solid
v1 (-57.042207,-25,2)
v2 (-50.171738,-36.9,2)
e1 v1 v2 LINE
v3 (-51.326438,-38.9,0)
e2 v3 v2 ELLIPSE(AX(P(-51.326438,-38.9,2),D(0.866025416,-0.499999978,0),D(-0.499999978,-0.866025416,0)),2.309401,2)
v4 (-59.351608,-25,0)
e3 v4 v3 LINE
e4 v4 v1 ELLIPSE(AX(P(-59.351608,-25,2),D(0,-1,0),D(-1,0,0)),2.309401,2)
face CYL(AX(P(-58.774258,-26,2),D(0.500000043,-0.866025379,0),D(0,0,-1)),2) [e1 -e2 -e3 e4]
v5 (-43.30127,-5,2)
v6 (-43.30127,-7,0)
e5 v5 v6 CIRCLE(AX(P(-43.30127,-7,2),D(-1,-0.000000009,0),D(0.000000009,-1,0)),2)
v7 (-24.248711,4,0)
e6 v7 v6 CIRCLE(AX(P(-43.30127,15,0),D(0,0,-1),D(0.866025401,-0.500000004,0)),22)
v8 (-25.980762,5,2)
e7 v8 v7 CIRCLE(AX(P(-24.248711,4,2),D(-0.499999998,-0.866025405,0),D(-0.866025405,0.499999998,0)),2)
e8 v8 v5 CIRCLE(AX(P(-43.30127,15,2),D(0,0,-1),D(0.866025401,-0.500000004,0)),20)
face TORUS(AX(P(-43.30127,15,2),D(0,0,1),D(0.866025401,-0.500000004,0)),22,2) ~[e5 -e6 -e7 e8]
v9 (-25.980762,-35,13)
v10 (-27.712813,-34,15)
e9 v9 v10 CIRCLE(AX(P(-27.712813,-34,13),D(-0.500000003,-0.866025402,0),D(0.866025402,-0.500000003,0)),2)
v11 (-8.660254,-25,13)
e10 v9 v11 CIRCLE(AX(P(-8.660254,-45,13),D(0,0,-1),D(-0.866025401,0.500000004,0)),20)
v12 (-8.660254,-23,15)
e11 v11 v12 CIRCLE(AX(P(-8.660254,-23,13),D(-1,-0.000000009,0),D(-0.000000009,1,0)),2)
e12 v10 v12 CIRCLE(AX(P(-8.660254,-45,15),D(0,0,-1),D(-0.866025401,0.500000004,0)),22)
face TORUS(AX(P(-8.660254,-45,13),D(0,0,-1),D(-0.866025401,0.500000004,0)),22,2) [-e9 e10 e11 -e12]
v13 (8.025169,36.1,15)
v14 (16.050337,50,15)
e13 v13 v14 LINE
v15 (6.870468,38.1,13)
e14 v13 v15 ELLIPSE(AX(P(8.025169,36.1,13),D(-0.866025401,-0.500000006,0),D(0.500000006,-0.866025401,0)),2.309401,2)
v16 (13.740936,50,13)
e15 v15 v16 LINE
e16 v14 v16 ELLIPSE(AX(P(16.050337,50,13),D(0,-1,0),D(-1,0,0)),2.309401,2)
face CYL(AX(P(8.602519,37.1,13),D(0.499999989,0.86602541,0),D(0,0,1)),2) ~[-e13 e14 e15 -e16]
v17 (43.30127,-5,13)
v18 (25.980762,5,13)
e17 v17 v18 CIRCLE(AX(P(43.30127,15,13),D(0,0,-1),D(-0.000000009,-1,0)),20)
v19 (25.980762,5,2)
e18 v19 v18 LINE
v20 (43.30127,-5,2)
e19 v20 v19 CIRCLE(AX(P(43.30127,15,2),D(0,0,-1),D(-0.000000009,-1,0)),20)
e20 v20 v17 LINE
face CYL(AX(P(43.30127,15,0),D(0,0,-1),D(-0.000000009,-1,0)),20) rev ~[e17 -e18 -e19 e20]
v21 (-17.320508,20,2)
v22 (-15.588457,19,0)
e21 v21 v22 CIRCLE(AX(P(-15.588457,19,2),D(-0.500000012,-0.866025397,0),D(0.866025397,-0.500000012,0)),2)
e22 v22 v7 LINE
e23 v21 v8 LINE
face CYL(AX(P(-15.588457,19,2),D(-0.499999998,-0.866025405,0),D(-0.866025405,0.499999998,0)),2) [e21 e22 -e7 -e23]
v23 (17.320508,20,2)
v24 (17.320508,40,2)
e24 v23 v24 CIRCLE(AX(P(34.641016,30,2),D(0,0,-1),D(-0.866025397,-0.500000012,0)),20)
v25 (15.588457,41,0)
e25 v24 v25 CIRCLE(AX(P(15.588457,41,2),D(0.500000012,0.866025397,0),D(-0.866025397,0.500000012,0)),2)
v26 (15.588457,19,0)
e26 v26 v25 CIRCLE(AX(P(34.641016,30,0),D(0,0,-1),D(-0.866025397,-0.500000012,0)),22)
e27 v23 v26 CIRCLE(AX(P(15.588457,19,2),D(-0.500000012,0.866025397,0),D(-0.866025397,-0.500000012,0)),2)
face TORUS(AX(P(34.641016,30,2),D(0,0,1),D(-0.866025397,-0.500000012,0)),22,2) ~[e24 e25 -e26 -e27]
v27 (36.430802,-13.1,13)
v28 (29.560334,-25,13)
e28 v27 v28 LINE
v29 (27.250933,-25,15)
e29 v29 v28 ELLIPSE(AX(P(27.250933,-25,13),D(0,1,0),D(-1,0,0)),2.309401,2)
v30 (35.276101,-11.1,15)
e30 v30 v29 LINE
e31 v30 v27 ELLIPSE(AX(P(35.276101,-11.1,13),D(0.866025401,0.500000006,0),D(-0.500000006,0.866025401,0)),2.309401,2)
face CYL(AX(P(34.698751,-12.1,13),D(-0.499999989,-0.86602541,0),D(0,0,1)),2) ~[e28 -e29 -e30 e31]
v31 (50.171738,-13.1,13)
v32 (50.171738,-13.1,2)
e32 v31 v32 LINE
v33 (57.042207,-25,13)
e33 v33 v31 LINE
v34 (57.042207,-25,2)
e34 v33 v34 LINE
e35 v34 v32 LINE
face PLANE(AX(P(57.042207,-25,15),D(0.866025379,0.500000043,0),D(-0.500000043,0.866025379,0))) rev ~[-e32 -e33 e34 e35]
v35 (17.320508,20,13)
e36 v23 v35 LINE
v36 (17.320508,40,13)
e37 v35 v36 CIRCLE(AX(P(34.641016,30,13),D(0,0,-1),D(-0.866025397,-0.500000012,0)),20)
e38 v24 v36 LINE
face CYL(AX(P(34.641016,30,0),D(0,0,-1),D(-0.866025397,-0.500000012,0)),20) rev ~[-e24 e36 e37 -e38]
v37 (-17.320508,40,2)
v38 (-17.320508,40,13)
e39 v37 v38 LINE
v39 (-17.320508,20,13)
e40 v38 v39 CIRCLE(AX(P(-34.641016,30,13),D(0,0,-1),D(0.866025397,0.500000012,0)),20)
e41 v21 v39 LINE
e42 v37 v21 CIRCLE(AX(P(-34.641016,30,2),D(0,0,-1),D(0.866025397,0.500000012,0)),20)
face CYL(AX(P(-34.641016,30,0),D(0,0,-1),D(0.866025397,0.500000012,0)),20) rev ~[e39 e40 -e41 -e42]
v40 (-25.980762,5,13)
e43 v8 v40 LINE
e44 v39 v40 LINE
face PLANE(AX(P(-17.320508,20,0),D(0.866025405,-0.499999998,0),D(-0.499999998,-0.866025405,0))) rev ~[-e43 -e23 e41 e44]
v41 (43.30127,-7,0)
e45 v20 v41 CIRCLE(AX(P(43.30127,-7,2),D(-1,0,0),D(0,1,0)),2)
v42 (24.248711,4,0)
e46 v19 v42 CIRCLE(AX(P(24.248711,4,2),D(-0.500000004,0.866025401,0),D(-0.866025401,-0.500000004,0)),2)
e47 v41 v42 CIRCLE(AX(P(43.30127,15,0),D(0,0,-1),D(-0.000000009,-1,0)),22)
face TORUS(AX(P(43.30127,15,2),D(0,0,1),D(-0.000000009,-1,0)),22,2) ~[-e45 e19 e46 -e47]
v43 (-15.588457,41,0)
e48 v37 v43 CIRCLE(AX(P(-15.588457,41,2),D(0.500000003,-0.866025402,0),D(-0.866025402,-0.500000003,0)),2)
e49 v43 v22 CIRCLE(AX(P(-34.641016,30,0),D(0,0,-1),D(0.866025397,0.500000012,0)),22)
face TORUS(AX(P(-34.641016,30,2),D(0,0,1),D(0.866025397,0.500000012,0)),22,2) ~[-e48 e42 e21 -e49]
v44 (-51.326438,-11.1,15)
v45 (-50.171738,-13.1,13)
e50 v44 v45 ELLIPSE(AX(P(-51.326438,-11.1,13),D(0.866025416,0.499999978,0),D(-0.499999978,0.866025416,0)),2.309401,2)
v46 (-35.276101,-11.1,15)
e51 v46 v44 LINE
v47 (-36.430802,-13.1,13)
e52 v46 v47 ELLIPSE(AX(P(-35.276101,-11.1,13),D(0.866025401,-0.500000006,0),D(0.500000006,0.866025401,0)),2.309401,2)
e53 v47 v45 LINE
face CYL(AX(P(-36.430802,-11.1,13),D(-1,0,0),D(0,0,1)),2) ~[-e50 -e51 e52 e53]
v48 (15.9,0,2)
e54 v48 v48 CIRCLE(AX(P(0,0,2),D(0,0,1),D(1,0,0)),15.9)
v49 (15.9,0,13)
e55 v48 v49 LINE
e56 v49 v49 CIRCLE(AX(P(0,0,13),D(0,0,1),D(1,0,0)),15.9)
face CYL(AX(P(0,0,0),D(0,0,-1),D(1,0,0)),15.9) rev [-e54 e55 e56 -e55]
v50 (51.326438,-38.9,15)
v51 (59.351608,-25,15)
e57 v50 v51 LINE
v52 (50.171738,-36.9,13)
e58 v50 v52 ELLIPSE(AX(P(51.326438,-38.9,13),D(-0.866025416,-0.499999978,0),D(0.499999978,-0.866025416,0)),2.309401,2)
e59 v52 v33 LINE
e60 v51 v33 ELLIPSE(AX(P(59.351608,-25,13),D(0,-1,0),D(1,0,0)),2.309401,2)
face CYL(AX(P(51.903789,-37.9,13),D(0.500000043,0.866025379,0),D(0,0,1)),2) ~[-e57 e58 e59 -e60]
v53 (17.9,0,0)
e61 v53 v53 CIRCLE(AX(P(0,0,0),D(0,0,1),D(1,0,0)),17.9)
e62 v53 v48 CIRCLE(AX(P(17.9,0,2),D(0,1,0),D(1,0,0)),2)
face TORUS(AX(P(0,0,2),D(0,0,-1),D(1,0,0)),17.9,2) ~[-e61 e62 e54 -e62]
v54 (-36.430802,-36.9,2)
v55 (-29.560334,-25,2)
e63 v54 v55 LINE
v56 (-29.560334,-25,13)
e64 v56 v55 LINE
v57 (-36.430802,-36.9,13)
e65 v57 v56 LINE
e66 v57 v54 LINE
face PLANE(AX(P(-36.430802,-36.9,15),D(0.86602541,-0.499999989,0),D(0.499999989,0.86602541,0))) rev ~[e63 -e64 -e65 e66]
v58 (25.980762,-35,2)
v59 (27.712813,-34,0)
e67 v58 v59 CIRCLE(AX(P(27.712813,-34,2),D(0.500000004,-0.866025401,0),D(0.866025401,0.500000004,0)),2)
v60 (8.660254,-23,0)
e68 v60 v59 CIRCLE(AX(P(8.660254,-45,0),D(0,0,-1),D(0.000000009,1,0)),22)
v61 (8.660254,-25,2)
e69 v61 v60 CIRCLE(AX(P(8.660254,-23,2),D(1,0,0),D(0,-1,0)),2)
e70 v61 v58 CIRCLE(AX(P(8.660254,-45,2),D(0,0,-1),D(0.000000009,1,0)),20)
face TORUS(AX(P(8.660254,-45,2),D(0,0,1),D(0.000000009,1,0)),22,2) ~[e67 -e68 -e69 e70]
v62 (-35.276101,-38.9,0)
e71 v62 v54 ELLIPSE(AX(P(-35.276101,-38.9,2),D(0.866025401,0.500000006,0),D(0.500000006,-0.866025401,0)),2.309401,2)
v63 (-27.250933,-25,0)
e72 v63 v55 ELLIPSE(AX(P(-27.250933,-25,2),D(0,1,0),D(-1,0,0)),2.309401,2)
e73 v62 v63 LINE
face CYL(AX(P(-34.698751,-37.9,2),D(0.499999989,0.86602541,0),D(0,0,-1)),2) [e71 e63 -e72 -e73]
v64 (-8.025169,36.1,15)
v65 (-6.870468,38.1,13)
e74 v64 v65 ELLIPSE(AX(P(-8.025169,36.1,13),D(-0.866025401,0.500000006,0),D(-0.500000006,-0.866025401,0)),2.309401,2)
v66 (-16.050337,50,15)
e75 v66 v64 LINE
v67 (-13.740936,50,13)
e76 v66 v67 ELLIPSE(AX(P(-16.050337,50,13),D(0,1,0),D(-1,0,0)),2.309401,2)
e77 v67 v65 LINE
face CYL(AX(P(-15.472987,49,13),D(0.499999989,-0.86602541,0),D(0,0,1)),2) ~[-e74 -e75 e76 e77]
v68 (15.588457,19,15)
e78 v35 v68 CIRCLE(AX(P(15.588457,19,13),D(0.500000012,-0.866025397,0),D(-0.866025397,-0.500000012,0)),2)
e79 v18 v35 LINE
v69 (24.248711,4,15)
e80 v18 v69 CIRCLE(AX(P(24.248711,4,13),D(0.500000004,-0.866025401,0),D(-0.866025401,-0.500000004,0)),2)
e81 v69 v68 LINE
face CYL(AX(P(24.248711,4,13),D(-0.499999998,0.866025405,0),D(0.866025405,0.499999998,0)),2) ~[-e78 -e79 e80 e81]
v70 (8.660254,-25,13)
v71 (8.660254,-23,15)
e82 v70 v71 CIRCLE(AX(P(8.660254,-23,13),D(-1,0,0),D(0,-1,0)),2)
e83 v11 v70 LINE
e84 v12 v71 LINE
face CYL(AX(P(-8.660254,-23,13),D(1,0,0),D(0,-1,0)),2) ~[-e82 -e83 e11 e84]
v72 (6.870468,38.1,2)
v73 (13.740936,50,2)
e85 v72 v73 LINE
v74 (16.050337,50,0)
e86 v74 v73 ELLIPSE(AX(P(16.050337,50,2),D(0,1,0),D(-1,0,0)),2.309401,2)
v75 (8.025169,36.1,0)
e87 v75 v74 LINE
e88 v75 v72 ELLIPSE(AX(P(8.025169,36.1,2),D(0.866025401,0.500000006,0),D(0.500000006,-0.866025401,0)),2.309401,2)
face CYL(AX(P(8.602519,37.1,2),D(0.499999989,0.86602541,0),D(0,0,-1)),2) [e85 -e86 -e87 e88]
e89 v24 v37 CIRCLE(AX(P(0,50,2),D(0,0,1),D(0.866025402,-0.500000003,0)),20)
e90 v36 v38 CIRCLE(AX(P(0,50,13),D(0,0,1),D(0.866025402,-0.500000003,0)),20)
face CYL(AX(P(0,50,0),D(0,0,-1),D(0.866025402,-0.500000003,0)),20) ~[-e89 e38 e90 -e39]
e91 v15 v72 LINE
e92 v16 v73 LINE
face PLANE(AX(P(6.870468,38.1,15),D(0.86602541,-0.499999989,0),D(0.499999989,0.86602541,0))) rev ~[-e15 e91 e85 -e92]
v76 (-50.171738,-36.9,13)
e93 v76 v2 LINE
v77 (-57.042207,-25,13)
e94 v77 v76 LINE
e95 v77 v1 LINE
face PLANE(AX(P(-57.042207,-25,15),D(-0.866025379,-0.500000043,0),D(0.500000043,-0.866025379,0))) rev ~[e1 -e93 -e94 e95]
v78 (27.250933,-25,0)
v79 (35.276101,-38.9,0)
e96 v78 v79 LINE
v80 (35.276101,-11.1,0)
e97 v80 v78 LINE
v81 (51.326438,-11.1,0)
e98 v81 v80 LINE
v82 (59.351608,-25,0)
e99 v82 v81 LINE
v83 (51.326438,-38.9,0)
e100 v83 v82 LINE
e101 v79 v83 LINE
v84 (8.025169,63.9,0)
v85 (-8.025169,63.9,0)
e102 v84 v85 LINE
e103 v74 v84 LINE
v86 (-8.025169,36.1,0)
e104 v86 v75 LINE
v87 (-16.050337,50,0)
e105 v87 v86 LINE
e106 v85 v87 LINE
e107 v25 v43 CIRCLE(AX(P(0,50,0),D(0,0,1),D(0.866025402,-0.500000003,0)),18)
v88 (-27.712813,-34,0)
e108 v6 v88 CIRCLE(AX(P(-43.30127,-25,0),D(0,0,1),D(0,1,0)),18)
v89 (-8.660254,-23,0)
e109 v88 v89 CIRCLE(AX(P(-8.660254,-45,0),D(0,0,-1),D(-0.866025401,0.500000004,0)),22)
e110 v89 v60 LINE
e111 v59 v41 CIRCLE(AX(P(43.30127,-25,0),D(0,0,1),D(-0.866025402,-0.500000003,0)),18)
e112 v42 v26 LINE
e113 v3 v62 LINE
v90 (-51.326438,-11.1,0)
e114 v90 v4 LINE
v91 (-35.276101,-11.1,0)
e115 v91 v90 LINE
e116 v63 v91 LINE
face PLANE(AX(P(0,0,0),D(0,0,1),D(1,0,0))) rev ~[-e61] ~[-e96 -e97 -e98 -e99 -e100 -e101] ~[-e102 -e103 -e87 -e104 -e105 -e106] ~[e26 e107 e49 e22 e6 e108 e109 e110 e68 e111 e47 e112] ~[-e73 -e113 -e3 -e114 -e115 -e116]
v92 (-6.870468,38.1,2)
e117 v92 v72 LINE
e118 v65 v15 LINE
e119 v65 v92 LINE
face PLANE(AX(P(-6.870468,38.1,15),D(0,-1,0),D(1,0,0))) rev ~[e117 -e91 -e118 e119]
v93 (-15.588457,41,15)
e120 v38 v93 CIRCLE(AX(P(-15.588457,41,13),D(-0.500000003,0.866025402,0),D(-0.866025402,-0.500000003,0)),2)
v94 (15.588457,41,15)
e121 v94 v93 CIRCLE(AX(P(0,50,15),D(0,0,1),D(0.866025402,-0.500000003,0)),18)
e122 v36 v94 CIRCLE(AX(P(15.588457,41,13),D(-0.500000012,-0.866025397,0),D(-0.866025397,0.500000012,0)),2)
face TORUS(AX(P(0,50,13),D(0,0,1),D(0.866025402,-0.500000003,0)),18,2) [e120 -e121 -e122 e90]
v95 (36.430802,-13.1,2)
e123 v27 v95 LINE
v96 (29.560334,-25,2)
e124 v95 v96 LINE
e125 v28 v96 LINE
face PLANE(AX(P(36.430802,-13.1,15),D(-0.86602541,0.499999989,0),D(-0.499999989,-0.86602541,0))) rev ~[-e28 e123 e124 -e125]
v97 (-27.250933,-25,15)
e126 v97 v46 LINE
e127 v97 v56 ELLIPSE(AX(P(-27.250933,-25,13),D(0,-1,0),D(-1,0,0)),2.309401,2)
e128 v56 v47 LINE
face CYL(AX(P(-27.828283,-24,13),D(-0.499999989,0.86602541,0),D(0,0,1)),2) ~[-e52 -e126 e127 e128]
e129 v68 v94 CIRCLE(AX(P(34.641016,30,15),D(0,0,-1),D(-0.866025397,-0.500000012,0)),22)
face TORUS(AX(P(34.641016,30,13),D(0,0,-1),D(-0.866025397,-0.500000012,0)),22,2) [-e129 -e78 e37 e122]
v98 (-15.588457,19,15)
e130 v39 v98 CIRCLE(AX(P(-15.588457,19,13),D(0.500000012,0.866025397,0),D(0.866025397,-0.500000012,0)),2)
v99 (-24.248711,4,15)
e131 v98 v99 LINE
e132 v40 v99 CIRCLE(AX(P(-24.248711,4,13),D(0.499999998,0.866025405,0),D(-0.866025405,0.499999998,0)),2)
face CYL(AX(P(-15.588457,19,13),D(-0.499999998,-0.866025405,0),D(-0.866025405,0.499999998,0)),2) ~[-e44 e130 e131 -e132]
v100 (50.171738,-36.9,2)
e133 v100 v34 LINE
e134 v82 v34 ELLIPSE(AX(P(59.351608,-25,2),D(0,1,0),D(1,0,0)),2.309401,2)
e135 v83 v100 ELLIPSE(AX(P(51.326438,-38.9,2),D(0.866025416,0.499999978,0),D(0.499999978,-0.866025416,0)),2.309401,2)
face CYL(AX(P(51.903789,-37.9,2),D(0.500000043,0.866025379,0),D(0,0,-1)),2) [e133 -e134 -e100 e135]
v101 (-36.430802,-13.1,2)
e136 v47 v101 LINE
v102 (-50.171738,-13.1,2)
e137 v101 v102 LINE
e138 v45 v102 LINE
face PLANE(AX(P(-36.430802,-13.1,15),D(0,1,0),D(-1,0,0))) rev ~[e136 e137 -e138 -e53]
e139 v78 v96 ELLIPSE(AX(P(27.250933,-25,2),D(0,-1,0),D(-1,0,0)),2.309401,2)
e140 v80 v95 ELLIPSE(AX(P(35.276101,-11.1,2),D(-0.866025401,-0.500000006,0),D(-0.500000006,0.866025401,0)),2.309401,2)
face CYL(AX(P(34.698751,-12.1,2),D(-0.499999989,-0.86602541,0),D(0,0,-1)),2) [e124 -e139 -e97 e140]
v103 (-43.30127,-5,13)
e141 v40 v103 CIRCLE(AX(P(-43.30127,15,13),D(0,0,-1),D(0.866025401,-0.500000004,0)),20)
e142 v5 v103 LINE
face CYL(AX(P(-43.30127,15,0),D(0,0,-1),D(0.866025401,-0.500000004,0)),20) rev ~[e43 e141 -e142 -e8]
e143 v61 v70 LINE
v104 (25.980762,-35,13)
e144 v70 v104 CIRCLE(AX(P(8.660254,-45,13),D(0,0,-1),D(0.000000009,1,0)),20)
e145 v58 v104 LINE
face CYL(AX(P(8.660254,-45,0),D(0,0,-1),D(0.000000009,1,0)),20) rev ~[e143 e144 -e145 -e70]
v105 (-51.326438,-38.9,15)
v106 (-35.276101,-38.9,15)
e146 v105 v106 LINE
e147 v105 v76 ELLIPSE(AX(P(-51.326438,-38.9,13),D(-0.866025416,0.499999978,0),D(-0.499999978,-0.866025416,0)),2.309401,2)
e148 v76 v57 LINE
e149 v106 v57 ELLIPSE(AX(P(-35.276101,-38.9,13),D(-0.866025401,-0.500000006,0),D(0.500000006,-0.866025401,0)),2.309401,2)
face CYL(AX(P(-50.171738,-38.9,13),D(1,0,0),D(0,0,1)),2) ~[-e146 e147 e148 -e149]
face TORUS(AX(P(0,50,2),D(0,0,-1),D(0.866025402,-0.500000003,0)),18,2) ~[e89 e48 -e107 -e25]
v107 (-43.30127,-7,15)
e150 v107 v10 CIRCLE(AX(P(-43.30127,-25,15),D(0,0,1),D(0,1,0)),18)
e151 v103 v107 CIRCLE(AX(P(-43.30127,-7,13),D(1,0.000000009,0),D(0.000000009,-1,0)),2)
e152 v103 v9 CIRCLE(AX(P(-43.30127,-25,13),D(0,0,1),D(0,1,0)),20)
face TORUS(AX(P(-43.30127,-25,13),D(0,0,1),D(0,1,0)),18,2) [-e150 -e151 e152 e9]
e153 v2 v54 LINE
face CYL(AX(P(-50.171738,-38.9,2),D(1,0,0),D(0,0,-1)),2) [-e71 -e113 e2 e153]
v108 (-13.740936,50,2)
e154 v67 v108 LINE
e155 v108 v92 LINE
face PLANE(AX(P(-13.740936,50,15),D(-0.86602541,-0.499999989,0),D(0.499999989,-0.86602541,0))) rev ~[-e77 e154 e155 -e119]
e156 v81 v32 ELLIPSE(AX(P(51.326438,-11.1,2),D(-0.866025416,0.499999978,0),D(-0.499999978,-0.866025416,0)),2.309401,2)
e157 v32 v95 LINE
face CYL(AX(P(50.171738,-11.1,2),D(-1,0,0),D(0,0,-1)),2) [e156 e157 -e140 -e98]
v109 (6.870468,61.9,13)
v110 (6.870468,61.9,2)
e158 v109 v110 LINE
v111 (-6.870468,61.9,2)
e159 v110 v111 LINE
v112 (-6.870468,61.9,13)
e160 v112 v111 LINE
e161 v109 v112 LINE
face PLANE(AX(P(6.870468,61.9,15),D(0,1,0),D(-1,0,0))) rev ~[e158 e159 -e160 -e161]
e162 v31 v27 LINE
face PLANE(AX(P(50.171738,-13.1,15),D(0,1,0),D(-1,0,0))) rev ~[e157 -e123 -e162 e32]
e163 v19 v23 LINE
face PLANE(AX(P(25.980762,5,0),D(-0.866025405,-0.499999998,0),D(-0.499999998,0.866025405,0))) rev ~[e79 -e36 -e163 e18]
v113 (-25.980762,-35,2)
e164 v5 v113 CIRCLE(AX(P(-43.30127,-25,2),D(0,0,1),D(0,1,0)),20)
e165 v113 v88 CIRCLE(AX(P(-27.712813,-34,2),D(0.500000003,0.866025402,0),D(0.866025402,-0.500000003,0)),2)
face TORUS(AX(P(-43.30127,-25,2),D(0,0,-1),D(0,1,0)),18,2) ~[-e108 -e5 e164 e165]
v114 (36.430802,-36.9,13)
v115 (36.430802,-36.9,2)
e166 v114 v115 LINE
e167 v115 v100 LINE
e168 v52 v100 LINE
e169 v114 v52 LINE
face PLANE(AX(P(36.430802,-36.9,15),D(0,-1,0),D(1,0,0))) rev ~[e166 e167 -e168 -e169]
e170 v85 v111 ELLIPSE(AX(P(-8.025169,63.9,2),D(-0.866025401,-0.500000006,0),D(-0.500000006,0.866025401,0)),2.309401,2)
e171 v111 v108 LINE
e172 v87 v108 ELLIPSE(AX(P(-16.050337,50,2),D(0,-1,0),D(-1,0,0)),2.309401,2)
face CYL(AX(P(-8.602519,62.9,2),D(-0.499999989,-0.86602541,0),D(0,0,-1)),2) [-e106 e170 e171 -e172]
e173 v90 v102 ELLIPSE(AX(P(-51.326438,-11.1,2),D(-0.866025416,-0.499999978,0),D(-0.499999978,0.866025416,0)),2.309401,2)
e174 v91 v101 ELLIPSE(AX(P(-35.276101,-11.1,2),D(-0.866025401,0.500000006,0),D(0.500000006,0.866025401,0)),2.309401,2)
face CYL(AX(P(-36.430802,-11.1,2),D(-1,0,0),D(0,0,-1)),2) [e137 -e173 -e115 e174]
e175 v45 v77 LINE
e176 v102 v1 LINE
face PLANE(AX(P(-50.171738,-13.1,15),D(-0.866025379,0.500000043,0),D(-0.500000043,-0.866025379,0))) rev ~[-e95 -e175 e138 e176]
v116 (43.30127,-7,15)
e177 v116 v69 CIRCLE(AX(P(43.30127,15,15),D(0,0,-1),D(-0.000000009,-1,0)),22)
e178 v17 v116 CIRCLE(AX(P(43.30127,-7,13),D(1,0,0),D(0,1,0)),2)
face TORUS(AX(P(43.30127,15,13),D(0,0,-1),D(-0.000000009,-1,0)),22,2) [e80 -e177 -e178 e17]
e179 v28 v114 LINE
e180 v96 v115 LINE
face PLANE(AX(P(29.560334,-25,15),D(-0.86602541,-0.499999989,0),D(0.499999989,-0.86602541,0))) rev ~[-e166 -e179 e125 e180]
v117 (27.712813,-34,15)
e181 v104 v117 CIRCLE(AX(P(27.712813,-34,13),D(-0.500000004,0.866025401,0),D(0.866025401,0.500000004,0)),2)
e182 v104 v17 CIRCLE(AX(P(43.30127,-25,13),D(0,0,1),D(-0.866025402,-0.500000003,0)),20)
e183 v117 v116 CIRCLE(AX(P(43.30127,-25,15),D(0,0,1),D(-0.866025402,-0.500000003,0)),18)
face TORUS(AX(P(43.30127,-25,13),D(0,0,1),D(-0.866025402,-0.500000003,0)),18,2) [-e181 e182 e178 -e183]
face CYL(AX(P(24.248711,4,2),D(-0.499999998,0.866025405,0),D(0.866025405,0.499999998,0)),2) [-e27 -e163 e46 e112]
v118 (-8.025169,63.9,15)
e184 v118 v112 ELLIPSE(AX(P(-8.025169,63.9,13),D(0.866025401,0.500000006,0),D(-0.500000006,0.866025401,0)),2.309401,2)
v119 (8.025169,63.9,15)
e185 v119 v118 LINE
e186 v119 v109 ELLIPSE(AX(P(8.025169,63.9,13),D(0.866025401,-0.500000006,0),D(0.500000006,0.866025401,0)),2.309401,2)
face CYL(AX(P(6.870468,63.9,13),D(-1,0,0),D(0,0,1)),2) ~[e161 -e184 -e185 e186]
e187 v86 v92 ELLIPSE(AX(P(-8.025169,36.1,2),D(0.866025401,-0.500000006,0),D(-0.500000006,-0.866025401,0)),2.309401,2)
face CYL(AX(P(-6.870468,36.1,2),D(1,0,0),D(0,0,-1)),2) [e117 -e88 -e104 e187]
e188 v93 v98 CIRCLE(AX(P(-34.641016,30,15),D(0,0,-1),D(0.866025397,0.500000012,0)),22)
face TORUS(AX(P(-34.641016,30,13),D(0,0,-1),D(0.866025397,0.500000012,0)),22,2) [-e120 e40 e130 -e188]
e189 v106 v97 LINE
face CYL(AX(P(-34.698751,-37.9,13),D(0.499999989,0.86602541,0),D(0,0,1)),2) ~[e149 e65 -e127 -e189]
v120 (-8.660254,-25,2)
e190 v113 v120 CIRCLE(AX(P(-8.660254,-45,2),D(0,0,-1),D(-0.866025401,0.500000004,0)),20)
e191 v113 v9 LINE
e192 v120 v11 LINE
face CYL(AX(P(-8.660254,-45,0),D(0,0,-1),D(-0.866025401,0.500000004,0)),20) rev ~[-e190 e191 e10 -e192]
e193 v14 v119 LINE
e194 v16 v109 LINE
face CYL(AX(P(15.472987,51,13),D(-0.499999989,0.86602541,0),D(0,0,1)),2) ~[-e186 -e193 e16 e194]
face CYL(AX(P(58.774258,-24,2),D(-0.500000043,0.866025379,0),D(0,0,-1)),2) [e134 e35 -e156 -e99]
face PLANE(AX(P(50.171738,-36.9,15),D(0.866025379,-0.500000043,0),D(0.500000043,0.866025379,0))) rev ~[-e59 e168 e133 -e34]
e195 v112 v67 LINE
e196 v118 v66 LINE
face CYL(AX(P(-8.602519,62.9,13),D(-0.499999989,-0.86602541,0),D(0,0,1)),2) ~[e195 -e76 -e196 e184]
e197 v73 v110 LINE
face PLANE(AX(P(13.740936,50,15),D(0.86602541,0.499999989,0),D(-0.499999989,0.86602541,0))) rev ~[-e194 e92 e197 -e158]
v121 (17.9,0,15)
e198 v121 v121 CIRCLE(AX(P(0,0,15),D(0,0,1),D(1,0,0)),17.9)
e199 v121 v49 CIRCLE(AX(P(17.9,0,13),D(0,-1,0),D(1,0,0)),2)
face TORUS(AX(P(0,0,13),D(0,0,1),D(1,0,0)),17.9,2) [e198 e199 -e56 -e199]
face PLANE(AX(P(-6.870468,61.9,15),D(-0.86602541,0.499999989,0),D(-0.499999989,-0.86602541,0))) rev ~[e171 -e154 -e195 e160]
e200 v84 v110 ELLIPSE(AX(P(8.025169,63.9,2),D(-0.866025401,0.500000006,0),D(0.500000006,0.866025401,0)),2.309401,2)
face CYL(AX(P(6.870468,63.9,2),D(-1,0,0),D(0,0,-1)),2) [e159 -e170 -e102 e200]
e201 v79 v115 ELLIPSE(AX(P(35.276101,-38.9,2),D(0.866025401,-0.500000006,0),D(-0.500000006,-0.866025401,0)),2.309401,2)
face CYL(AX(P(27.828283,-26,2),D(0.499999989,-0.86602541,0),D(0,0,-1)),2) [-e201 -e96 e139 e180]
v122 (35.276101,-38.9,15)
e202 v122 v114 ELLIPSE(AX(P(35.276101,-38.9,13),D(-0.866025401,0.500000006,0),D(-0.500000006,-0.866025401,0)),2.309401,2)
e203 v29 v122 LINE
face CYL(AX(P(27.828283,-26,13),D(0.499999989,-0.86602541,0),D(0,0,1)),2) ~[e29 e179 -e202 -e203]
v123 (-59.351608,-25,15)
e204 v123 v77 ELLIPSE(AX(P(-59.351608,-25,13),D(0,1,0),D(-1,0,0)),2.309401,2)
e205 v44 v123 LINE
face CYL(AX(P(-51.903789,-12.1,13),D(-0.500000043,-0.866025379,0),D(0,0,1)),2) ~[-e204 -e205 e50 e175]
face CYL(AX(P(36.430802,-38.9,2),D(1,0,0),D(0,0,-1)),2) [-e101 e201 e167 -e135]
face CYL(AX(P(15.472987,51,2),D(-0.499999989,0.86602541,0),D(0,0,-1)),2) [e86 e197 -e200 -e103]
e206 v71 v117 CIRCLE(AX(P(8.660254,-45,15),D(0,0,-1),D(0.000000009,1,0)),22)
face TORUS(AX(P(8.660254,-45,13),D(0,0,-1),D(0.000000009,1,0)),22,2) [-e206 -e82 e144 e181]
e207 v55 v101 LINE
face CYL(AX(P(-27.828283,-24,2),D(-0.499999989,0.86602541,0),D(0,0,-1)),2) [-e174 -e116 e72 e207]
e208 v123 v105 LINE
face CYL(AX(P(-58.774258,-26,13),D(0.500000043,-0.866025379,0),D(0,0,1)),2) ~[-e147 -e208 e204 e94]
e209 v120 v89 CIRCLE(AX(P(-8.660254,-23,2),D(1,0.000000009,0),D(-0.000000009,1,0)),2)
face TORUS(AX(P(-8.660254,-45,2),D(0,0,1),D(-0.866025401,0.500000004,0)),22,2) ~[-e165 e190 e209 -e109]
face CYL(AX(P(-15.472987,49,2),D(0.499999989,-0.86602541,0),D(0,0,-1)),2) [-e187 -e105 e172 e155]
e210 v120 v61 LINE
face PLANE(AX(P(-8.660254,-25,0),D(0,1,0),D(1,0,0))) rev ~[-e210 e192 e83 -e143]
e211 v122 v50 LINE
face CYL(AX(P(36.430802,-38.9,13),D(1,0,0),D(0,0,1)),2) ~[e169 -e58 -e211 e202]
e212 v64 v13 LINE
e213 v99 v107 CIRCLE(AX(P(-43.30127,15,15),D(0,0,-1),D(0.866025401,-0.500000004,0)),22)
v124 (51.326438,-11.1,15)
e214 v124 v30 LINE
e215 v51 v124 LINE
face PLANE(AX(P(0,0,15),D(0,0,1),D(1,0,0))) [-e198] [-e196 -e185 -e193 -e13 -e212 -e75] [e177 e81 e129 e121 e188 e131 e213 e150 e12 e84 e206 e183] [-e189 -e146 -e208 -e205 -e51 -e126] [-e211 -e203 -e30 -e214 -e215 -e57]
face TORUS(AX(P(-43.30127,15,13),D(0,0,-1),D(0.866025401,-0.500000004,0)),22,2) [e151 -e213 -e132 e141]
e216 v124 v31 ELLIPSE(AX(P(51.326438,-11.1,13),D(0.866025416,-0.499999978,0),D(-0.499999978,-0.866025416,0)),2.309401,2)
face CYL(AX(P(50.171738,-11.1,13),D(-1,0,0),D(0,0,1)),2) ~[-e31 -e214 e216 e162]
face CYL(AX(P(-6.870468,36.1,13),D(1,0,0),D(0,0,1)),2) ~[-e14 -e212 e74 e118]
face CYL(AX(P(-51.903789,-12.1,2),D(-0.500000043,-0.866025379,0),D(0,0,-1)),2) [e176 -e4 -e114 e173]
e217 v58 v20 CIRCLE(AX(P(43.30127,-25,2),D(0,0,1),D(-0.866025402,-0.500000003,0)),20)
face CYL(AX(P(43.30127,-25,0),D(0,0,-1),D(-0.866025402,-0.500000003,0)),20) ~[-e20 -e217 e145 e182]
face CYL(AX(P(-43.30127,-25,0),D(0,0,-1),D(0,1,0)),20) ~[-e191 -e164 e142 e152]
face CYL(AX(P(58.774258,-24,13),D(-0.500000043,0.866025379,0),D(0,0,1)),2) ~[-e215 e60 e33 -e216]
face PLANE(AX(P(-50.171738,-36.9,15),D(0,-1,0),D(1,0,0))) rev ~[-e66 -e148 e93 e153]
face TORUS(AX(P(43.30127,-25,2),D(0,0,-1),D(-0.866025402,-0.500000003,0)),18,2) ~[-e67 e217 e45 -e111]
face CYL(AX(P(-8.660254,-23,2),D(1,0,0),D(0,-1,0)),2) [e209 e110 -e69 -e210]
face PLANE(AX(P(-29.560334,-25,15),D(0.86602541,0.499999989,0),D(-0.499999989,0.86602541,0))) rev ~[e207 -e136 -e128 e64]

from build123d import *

# Parameters (mm, degrees)
F0_R     = 15.9
F1_DEPTH = 15
F3_DEPTH = 25
F4_R     = 2
F5_R     = 2


with BuildPart() as f1:
    # F0 (on Top) → F1 (new body)
    with BuildSketch(Plane.XY):
        with BuildLine():
            ThreePointArc((17.320508, 20), (14.641016, 30), (17.320508, 40))
            ThreePointArc((17.320508, 40), (0, 70), (-17.320508, 40))
            ThreePointArc((-17.320508, 40), (-14.641016, 30), (-17.320508, 20))
            Line((-17.320508, 20), (-25.980762, 5))
            ThreePointArc((-25.980762, 5), (-33.30127, -2.320508), (-43.30127, -5))
            ThreePointArc((-43.30127, -5), (-60.621778, -35), (-25.980762, -35))
            ThreePointArc((-25.980762, -35), (-18.660254, -27.679492), (-8.660254, -25))
            Line((-8.660254, -25), (8.660254, -25))
            ThreePointArc((8.660254, -25), (18.660254, -27.679492), (25.980762, -35))
            ThreePointArc((25.980762, -35), (60.621778, -35), (43.30127, -5))
            ThreePointArc((43.30127, -5), (33.30127, -2.320508), (25.980762, 5))
            Line((25.980762, 5), (17.320508, 20))
        make_face()
        Circle(F0_R, mode=Mode.SUBTRACT)
    extrude(amount=F1_DEPTH)

    # F2 (on face) → F3 (cut)
    with BuildSketch(Plane.XY.offset(15)):
        Polygon((6.870468, 61.9), (-6.870468, 61.9), (-13.740936, 50), (-6.870468, 38.1), (6.870468, 38.1), (13.740936, 50), align=None)
        Polygon((-36.430802, -13.1), (-50.171738, -13.1), (-57.042207, -25), (-50.171738, -36.9), (-36.430802, -36.9), (-29.560334, -25), align=None)
        Polygon((50.171738, -13.1), (36.430802, -13.1), (29.560334, -25), (36.430802, -36.9), (50.171738, -36.9), (57.042207, -25), align=None)
    extrude(amount=-F3_DEPTH, mode=Mode.SUBTRACT)

    # F4
    f4_edges = [f1.edges().sort_by_distance(p)[0] for p in [
        (14.641016, 30, 15),
        (21.650635, 12.5, 15),
        (0, 70, 15),
        (33.30127, -2.320508, 15),
        (-14.641016, 30, 15),
        (60.621778, -35, 15),
        (-21.650635, 12.5, 15),
        (18.660254, -27.679492, 15),
        (-33.30127, -2.320508, 15),
        (0, -25, 15),
        (-60.621778, -35, 15),
        (-18.660254, -27.679492, 15),
        (-32.995568, -19.05, 15),
        (-43.30127, -13.1, 15),
        (-53.606972, -19.05, 15),
        (-53.606972, -30.95, 15),
        (-43.30127, -36.9, 15),
        (-32.995568, -30.95, 15),
        (43.30127, -13.1, 15),
        (32.995568, -19.05, 15),
        (32.995568, -30.95, 15),
        (43.30127, -36.9, 15),
        (53.606972, -30.95, 15),
        (53.606972, -19.05, 15),
        (-15.9, 0, 15),
        (10.305702, 55.95, 15),
        (0, 61.9, 15),
        (-10.305702, 55.95, 15),
        (-10.305702, 44.05, 15),
        (0, 38.1, 15),
        (10.305702, 44.05, 15),
    ]]
    fillet(f4_edges, radius=F4_R)

    # F5
    f5_edges = [f1.edges().sort_by_distance(p)[0] for p in [
        (14.641016, 30, 0),
        (21.650635, 12.5, 0),
        (0, 70, 0),
        (33.30127, -2.320508, 0),
        (-14.641016, 30, 0),
        (60.621778, -35, 0),
        (-21.650635, 12.5, 0),
        (18.660254, -27.679492, 0),
        (-33.30127, -2.320508, 0),
        (0, -25, 0),
        (-60.621778, -35, 0),
        (-18.660254, -27.679492, 0),
        (-32.995568, -19.05, 0),
        (-43.30127, -13.1, 0),
        (-53.606972, -19.05, 0),
        (-53.606972, -30.95, 0),
        (-43.30127, -36.9, 0),
        (-32.995568, -30.95, 0),
        (43.30127, -13.1, 0),
        (32.995568, -19.05, 0),
        (32.995568, -30.95, 0),
        (43.30127, -36.9, 0),
        (53.606972, -30.95, 0),
        (53.606972, -19.05, 0),
        (-15.9, 0, 0),
        (10.305702, 55.95, 0),
        (0, 61.9, 0),
        (-10.305702, 55.95, 0),
        (-10.305702, 44.05, 0),
        (0, 38.1, 0),
        (10.305702, 44.05, 0),
    ]]
    fillet(f5_edges, radius=F5_R)


solid = f1.part
